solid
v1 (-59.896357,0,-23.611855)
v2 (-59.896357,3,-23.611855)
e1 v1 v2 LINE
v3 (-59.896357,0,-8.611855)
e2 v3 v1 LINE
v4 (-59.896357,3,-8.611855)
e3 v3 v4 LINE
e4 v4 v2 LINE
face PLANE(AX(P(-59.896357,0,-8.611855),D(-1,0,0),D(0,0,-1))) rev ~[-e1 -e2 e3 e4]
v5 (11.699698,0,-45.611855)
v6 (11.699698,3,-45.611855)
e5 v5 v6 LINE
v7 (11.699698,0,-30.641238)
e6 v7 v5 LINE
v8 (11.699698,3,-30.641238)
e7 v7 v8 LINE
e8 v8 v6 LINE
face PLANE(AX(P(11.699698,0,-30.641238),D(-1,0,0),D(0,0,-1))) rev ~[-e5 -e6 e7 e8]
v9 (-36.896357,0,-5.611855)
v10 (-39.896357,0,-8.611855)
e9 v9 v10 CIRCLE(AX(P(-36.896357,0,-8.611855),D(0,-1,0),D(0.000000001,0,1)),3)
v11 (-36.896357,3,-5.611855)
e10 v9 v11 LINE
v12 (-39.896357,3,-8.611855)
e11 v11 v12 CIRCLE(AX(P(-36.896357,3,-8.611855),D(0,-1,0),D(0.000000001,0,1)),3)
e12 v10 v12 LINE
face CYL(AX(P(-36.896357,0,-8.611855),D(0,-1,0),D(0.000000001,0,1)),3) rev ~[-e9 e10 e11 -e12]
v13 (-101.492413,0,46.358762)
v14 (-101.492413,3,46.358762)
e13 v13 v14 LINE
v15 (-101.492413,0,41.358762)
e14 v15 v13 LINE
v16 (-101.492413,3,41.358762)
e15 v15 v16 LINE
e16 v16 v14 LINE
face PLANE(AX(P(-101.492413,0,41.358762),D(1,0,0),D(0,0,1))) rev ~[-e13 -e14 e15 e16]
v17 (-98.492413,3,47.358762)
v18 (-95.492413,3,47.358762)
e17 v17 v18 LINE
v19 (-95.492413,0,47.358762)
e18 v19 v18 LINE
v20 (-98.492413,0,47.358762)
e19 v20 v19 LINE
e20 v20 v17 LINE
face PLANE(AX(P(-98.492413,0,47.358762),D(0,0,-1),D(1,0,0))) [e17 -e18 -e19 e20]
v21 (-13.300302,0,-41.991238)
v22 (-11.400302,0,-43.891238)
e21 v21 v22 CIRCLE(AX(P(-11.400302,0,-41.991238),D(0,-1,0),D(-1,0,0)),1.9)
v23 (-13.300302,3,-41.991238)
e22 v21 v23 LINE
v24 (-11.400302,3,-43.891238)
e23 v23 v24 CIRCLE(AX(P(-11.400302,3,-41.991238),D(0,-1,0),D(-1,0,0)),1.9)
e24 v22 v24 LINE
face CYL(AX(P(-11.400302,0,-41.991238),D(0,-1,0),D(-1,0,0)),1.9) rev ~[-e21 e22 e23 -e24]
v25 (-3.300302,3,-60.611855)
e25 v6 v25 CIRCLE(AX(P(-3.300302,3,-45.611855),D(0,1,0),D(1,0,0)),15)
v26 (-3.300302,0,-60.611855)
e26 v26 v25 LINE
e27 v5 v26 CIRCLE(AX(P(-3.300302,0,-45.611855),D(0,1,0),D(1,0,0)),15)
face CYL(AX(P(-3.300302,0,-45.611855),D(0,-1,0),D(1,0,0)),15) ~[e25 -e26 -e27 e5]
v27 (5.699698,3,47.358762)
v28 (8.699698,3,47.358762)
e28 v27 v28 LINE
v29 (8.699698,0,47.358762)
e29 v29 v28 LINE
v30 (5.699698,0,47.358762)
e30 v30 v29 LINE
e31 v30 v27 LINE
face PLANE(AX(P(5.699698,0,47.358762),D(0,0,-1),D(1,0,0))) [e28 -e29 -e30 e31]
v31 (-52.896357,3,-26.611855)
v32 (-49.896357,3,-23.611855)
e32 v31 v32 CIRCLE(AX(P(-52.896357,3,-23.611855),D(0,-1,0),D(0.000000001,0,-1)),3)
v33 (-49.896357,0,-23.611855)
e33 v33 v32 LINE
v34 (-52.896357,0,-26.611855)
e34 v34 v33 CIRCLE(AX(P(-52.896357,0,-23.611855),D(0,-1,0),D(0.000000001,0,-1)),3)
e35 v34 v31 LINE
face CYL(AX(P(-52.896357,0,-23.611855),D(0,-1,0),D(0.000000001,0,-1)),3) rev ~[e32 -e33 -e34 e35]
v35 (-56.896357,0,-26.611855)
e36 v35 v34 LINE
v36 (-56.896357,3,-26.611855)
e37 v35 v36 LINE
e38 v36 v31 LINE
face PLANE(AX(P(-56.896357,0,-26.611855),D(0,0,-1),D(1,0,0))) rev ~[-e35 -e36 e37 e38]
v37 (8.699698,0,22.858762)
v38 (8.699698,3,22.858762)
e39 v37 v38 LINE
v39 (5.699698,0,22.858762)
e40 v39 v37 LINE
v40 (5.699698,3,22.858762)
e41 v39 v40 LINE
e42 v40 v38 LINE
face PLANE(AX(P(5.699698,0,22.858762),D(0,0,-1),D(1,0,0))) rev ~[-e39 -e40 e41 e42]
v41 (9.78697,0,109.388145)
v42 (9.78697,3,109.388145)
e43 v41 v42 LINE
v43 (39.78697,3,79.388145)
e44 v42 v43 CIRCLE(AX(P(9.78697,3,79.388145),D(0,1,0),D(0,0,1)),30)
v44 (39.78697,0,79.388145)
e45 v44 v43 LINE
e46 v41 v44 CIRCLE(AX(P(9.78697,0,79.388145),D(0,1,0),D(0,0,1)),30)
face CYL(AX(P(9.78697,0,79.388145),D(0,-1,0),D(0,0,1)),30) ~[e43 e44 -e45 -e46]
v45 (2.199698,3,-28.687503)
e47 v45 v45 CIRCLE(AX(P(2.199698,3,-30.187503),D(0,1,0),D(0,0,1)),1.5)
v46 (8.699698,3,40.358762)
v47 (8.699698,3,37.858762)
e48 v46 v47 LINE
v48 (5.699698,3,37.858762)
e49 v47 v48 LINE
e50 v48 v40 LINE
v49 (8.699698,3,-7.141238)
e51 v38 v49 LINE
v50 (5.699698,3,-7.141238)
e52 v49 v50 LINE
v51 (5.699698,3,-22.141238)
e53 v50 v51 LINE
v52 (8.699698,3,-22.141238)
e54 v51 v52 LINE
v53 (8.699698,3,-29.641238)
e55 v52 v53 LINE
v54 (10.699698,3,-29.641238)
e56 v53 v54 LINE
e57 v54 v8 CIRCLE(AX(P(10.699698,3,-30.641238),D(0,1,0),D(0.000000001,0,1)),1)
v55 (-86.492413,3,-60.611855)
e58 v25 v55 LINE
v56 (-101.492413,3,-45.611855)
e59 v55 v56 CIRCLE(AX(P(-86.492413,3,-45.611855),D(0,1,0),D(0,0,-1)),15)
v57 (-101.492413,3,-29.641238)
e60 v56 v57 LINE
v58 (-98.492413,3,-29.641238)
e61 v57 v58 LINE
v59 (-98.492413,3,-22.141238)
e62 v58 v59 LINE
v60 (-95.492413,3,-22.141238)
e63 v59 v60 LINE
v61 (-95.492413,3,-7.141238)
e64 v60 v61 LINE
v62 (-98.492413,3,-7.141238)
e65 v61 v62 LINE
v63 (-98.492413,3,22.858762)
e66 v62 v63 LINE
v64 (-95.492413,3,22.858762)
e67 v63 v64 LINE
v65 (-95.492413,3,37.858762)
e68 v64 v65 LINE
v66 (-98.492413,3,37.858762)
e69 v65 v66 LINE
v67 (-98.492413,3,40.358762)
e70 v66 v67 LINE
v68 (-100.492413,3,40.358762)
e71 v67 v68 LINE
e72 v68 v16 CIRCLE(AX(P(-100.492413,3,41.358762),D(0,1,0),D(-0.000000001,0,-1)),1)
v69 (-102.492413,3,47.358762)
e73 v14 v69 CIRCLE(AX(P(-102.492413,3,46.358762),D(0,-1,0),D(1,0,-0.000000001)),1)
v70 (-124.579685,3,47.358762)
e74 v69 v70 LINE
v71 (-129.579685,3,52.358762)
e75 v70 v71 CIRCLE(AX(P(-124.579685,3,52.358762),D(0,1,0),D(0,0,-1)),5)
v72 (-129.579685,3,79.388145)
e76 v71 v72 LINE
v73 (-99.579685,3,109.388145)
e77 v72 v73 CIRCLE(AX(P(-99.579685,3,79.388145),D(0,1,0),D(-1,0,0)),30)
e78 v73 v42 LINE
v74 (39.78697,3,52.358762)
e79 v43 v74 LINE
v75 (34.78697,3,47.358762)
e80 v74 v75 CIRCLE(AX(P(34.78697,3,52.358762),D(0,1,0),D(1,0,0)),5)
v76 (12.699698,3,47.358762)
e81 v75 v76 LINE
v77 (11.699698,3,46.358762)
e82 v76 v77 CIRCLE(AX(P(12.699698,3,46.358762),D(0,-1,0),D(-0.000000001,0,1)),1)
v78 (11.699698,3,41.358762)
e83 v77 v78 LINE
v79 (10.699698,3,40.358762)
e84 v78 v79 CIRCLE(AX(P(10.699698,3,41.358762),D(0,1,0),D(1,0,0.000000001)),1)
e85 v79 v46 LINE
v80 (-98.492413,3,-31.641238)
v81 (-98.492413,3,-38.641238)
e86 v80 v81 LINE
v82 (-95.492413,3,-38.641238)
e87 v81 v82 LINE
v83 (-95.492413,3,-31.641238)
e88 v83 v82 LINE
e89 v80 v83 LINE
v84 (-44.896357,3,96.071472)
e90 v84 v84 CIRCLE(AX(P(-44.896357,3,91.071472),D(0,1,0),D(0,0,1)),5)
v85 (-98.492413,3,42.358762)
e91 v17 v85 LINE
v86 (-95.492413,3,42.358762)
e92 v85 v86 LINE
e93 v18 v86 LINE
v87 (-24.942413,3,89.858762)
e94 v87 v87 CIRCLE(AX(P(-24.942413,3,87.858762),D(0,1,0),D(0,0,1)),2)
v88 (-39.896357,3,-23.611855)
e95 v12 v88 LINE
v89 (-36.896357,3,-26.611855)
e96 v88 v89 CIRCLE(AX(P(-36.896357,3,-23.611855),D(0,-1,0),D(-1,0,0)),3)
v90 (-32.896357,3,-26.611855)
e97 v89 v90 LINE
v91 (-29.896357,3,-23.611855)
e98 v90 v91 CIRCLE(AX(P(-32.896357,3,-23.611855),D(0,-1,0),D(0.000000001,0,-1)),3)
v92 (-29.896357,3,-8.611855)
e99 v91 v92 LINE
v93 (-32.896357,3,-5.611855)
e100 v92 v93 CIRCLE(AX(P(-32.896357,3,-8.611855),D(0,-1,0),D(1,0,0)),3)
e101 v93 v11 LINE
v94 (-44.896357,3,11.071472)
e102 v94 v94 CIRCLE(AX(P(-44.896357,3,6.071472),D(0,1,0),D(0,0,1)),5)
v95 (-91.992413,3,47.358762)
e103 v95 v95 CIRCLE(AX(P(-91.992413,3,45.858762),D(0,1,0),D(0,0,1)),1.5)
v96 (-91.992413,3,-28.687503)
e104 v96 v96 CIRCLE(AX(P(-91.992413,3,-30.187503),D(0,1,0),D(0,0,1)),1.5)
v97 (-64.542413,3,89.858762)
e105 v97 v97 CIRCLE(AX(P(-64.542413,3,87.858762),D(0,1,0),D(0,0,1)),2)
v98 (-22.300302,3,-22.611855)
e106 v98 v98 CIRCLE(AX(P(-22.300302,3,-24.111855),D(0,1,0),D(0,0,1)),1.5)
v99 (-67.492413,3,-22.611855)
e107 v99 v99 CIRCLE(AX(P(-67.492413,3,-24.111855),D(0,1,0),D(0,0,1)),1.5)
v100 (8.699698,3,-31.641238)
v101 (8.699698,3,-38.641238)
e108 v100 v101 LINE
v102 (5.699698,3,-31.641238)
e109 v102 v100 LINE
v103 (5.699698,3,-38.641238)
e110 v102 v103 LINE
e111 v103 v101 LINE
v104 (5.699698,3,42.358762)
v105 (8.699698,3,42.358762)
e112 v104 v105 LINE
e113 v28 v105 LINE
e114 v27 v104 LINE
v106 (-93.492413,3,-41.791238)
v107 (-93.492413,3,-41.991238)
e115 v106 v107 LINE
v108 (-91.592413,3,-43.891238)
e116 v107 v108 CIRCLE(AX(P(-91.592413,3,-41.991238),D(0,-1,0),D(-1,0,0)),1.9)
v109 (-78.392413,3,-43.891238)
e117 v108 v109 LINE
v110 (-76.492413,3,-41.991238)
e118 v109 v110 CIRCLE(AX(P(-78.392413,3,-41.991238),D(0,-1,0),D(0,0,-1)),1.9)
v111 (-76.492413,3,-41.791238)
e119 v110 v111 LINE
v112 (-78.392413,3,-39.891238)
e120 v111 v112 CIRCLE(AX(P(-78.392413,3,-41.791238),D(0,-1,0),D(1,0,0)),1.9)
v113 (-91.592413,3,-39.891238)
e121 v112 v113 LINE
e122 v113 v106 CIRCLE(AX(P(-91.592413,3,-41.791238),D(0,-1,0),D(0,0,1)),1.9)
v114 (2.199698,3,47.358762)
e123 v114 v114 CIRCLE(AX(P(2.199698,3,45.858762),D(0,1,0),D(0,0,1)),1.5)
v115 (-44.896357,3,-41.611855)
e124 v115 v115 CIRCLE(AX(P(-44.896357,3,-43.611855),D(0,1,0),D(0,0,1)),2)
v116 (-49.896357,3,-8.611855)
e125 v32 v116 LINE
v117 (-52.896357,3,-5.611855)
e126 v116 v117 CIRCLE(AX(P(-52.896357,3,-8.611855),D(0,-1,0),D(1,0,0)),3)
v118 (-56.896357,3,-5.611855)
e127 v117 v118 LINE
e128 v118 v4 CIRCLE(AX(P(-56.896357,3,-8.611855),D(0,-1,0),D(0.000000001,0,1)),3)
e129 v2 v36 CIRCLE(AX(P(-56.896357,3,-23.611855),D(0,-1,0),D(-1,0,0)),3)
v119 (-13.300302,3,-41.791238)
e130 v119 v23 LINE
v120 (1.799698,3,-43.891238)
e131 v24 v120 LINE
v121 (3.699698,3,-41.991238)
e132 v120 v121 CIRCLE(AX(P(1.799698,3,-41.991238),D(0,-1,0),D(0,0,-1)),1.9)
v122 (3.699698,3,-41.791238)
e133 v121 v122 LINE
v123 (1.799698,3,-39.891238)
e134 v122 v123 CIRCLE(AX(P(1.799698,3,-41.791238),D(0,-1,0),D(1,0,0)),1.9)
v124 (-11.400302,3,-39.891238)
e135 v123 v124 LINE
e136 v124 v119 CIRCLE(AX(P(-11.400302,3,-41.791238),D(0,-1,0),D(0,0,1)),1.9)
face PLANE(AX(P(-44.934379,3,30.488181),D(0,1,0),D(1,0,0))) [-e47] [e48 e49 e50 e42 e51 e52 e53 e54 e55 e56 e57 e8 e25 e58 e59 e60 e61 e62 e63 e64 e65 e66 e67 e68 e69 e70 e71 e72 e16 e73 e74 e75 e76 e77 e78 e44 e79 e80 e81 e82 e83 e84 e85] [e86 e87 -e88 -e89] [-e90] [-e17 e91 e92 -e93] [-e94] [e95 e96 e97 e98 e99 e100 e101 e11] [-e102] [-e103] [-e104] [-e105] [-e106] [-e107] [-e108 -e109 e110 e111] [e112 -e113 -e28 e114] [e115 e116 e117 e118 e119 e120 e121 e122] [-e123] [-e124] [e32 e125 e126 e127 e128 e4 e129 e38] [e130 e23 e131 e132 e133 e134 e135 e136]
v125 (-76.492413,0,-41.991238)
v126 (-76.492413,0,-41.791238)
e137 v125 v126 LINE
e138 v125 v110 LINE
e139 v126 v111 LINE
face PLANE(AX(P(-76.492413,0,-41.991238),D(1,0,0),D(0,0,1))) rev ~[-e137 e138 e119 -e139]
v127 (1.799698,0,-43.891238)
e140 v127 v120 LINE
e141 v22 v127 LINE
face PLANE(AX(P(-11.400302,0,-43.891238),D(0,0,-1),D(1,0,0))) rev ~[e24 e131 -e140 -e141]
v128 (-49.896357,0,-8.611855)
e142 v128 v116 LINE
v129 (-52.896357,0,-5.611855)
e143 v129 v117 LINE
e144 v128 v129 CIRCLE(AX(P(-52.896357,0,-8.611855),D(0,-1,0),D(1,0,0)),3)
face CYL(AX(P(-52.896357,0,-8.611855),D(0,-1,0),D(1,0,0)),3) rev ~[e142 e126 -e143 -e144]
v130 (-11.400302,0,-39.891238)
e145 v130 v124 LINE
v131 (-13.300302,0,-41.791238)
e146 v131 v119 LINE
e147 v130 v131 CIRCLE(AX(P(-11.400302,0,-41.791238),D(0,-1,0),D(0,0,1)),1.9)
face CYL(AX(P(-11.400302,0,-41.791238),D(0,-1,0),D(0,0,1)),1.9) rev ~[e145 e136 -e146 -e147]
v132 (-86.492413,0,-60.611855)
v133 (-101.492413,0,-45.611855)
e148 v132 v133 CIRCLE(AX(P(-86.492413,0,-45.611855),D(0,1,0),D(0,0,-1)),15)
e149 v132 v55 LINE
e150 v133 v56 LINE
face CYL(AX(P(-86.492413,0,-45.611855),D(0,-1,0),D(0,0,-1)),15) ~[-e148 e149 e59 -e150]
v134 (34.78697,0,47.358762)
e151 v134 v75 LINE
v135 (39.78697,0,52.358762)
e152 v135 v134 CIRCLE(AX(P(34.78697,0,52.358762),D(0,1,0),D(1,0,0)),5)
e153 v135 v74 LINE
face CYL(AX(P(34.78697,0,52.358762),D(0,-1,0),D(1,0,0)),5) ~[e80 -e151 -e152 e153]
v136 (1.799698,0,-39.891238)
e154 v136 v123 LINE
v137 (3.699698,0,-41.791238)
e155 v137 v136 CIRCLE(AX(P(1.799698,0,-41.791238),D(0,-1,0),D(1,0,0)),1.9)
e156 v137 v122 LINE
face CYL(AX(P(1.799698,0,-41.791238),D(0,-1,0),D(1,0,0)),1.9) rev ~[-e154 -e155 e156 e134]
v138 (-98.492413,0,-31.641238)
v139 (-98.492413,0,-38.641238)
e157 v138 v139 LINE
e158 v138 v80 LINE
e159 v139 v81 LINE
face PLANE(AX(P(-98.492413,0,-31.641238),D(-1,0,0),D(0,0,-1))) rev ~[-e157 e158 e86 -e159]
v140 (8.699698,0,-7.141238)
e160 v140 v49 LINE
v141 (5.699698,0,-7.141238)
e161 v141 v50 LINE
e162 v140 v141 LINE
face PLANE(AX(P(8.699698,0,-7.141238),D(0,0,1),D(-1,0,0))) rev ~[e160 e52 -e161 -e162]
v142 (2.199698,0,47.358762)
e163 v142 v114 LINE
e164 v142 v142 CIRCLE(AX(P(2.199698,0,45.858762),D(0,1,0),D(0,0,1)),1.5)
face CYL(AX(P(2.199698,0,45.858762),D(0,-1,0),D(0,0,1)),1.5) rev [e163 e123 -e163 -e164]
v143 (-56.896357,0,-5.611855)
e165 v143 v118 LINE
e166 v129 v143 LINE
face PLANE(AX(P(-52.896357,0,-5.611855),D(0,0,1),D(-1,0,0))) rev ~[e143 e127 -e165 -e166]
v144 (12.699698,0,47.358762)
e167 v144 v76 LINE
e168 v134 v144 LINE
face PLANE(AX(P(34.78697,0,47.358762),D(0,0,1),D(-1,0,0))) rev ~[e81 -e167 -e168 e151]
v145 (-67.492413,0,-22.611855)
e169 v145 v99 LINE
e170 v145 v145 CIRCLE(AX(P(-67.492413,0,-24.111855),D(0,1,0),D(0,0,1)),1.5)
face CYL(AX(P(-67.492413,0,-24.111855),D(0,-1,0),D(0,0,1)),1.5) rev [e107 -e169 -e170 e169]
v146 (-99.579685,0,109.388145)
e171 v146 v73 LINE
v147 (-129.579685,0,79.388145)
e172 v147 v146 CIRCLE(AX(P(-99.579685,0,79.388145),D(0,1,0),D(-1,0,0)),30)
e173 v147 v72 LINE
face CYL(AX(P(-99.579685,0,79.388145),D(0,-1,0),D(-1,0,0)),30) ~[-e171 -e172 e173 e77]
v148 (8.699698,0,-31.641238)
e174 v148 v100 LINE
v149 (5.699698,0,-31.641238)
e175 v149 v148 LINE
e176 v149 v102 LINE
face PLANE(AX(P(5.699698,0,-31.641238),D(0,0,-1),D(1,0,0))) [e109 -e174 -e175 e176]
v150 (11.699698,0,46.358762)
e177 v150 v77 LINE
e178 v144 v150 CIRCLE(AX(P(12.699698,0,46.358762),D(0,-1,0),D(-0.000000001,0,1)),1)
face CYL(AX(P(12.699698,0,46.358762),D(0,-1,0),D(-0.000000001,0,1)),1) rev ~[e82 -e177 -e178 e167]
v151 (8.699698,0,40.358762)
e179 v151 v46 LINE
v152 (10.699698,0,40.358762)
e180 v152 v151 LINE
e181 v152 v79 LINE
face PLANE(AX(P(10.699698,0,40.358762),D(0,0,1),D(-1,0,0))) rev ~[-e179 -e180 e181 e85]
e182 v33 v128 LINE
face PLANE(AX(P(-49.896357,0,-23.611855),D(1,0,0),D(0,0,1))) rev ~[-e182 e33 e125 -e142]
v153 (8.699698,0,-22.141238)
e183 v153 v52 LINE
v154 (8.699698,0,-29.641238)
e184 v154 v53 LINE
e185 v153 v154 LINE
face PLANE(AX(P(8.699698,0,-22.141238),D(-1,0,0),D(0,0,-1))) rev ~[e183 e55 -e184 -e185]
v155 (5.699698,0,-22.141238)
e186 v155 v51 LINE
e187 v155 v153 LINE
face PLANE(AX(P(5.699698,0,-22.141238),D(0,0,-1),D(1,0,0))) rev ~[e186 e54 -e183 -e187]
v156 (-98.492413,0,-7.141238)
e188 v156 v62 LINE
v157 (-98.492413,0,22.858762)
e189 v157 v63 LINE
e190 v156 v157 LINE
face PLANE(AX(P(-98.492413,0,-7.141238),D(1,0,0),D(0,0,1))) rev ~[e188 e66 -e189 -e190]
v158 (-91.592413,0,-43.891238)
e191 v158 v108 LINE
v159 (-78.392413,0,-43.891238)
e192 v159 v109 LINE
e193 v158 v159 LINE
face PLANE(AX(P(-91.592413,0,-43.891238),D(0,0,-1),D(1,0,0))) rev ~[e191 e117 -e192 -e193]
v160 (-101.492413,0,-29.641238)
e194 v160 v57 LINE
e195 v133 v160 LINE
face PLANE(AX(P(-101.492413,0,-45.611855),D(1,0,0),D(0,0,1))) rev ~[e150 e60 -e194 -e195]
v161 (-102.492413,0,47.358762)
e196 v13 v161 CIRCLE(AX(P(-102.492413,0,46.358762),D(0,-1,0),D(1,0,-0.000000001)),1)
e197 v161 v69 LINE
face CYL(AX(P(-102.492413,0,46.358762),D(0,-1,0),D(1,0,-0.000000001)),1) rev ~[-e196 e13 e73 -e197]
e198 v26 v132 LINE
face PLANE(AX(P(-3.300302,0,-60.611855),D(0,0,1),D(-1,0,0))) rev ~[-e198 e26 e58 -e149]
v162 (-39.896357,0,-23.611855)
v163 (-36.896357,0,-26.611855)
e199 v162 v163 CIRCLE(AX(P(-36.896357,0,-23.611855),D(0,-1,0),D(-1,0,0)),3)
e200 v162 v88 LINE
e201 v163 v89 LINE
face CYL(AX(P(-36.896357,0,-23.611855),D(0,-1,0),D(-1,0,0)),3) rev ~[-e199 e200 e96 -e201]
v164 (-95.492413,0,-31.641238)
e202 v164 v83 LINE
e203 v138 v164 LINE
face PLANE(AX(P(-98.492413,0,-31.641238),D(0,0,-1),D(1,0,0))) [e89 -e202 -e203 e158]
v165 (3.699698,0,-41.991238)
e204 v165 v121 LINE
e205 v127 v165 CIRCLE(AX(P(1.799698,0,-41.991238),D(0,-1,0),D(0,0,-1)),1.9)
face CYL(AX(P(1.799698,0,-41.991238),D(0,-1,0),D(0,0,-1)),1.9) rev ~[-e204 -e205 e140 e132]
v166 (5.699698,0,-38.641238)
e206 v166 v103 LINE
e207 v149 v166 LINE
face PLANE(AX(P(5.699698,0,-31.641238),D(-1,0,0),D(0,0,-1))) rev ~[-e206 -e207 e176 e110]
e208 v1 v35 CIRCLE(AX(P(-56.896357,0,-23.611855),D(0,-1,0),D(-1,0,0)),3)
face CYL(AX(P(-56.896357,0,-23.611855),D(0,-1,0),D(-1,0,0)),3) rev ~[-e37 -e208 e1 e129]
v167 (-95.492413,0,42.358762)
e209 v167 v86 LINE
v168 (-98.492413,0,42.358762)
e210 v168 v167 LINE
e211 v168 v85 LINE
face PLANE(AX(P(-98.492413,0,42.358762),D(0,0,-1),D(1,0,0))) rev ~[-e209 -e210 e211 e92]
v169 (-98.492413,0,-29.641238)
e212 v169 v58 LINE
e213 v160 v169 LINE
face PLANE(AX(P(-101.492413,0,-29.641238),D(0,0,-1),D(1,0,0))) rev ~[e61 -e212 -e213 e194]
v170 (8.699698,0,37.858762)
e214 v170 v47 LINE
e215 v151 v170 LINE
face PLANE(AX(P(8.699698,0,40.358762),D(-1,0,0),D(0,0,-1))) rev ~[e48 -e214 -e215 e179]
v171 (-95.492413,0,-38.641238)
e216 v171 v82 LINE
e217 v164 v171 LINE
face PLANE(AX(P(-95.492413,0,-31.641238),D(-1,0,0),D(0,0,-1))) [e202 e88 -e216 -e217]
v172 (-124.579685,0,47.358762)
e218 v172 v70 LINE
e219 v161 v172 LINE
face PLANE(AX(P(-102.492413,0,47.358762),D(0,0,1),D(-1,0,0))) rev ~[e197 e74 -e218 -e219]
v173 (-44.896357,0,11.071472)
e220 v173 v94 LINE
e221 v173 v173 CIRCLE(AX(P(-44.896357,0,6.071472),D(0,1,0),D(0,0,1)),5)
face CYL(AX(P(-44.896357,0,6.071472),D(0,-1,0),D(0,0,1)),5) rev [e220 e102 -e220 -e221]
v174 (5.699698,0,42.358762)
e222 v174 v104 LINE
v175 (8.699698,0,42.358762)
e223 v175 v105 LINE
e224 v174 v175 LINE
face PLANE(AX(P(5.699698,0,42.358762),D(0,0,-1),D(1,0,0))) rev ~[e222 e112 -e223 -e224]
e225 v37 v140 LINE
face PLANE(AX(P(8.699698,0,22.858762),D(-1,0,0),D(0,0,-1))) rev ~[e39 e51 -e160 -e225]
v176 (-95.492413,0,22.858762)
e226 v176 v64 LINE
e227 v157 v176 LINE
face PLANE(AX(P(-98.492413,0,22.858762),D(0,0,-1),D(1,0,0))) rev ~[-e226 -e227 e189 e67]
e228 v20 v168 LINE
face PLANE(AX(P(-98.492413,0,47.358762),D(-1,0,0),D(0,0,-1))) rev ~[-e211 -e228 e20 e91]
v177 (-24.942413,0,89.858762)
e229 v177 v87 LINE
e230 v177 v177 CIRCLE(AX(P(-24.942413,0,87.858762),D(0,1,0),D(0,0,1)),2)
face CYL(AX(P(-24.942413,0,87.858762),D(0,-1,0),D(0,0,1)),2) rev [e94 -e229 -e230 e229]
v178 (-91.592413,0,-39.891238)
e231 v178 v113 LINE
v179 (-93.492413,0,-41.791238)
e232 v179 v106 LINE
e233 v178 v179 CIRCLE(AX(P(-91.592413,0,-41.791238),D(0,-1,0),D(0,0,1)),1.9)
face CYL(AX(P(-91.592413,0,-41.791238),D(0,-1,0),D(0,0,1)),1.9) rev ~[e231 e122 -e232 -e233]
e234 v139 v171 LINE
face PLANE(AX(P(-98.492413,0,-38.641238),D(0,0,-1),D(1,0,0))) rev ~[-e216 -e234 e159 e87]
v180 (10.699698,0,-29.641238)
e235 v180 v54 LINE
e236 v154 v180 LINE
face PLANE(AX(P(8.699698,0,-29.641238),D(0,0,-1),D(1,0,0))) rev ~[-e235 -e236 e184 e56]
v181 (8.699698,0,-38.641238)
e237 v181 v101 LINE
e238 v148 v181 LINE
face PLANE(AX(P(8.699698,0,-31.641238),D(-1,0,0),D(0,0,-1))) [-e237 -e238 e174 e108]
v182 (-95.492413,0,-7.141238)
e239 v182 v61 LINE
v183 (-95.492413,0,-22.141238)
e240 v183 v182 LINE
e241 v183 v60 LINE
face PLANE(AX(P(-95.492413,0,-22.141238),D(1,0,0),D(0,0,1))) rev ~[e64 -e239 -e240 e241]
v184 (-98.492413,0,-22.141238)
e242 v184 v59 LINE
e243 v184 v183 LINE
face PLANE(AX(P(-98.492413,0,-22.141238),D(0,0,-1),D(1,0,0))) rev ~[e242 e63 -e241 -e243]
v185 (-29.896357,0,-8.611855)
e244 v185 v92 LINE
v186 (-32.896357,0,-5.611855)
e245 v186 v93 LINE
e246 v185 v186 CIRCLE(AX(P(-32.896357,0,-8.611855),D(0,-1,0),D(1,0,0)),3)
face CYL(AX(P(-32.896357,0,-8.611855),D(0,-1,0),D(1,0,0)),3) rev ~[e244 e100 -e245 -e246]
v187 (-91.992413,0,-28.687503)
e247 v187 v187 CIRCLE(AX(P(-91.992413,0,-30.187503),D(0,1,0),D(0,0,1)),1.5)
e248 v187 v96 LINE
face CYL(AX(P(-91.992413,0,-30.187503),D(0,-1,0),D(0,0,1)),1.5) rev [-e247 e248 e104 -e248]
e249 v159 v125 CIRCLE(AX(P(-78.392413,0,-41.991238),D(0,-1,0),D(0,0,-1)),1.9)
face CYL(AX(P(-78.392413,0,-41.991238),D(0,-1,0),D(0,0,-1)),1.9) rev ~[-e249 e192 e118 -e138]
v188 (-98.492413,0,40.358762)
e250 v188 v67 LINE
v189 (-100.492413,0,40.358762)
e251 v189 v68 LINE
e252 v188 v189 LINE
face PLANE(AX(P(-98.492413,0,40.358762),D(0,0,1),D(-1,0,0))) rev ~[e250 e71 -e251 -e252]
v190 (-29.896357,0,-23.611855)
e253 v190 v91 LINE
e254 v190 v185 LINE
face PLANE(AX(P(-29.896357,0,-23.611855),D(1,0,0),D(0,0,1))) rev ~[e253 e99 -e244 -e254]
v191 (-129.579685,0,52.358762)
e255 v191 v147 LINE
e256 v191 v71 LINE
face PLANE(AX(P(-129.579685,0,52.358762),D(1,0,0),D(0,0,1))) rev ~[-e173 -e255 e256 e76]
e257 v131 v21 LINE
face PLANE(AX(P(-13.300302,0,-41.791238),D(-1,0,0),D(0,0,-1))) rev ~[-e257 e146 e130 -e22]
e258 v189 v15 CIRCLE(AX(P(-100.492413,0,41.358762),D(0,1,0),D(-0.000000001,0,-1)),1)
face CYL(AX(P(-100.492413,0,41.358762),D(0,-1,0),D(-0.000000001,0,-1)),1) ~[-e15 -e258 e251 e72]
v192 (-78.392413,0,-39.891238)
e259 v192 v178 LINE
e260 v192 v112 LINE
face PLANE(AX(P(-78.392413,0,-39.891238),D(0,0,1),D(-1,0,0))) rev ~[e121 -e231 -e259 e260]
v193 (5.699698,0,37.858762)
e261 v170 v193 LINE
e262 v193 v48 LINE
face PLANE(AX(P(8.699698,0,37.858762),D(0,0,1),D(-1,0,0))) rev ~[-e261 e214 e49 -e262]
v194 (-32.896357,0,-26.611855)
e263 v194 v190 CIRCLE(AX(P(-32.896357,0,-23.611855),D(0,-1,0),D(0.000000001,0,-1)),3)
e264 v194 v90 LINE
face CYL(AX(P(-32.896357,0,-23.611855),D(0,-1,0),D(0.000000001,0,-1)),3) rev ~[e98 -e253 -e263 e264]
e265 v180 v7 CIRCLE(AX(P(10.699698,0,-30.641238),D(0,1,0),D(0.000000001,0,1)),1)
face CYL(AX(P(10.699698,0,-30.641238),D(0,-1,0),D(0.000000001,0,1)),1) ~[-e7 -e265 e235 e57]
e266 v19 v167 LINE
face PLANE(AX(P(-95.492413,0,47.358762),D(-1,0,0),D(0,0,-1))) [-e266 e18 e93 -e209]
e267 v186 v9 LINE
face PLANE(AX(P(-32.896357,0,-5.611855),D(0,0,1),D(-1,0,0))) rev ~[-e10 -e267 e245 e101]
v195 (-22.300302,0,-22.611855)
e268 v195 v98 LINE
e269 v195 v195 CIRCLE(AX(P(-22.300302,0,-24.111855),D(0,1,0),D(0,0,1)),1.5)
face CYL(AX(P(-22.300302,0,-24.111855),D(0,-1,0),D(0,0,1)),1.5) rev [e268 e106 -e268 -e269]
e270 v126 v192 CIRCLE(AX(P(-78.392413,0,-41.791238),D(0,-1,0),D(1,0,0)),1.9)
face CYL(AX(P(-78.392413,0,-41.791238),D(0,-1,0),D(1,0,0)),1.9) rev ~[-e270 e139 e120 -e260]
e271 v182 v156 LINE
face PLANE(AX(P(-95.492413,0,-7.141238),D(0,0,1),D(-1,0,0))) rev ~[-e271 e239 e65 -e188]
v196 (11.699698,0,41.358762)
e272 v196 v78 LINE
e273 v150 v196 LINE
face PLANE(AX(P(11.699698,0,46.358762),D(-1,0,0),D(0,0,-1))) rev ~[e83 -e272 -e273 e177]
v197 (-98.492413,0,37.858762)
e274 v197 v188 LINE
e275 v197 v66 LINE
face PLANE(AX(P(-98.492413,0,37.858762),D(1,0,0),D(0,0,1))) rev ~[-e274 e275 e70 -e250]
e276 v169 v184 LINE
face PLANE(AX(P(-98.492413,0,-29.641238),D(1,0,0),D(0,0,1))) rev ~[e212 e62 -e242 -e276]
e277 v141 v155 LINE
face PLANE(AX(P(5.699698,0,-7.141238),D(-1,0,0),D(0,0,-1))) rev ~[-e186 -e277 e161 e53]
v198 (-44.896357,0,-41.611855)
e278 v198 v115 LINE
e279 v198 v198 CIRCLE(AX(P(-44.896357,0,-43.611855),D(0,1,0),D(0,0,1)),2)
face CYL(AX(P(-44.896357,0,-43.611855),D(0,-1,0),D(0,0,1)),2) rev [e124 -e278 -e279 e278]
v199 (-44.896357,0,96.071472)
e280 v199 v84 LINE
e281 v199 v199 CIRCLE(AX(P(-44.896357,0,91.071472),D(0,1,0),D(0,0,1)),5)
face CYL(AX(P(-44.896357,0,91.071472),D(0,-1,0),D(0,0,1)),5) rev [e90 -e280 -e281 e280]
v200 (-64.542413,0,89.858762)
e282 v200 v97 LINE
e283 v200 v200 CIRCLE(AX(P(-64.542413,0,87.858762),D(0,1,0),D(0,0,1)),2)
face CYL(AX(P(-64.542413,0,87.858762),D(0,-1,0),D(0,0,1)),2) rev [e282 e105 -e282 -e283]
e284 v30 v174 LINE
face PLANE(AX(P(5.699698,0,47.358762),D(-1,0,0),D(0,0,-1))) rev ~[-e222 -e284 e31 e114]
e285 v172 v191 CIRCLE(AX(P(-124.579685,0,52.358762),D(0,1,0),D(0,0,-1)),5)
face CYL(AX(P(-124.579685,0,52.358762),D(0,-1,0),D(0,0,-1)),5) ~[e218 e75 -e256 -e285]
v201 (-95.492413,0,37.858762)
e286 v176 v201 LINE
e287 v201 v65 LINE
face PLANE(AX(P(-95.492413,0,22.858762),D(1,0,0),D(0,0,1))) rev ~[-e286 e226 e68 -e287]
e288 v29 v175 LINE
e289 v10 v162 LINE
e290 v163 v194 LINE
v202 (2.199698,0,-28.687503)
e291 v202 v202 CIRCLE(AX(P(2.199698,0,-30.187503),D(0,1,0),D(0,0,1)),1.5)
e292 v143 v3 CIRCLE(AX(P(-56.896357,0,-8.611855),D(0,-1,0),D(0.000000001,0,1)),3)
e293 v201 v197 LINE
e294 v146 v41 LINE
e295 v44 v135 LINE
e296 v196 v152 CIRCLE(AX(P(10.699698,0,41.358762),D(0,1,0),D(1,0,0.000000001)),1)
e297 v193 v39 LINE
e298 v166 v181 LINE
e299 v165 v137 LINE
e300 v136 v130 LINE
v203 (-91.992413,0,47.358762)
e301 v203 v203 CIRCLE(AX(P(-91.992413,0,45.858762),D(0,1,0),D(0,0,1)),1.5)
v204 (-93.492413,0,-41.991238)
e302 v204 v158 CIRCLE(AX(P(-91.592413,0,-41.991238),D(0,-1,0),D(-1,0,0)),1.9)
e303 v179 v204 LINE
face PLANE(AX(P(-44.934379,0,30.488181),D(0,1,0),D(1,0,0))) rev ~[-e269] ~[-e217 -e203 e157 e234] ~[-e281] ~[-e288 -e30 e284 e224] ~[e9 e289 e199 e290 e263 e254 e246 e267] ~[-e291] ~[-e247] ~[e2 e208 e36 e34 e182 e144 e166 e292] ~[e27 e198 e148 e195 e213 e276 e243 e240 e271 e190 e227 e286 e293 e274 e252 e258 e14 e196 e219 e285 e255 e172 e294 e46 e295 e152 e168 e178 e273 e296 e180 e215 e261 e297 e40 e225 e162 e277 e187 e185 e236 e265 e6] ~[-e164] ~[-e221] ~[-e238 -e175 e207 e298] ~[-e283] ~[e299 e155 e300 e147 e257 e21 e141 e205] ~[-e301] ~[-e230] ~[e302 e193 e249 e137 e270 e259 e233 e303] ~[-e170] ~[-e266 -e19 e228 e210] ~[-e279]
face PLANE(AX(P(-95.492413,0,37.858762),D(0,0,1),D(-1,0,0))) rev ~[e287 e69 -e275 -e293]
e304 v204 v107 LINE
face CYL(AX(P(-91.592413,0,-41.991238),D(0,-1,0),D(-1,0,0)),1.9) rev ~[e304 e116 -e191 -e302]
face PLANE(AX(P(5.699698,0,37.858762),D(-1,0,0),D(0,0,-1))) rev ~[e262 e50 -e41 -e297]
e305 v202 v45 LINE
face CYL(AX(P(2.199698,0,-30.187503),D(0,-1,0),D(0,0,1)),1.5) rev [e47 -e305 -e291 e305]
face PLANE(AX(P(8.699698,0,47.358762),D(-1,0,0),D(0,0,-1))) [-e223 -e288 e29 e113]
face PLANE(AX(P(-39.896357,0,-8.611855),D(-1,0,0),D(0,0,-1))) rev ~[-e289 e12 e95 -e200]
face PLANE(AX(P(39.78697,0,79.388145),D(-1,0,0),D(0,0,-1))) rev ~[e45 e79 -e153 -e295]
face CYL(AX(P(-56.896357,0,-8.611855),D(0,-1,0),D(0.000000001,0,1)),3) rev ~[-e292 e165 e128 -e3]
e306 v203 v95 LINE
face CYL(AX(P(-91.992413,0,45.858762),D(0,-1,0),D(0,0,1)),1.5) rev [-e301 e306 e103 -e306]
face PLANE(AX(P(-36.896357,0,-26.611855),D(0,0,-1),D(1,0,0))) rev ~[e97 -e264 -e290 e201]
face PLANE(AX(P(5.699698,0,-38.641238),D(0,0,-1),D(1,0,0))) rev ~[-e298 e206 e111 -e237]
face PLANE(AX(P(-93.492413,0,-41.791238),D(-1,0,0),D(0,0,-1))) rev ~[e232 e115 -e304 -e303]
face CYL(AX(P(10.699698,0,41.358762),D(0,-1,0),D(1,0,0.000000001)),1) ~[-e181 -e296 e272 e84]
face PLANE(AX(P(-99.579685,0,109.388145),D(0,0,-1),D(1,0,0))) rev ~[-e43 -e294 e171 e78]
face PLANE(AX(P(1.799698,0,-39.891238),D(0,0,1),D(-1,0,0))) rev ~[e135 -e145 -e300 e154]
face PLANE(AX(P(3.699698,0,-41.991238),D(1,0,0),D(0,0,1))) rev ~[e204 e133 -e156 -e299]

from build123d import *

# Parameters (mm, degrees)
SKETCH1_R           = 2
SKETCH1_R_2         = 1.5
SKETCH1_W           = 3
SKETCH1_H           = 5
SKETCH1_R_3         = 5
SKETCH1_H_2         = 7
BOSS_EXTRUDE1_DEPTH = 3


with BuildPart() as part:
    # Sketch1 → Boss-Extrude1 (new body)
    with BuildSketch(Plane(origin=(0, 0, 0), x_dir=(1, 0, 0), z_dir=(0, 1, 0))):
        with BuildLine():
            ThreePointArc((10.699698215, 29.641238244), (11.406804996, 29.934131463), (11.699698215, 30.641238244))
            Line((11.699698215, 30.641238244), (11.699698215, 38.128019164))
            Line((11.699698215, 38.128019164), (11.699698215, 45.611855364))
            ThreePointArc((11.699698215, 45.611855364), (7.306299933, 56.218457082), (-3.300301785, 60.611855364))
            Line((-3.300301785, 60.611855364), (-86.492412558, 60.611855364))
            ThreePointArc((-86.492412558, 60.611855364), (-97.099014275, 56.218457082), (-101.492412558, 45.611855364))
            Line((-101.492412558, 45.611855364), (-101.492412558, 38.128019164))
            Line((-101.492412558, 38.128019164), (-101.492412558, 29.641238244))
            Line((-101.492412558, 29.641238244), (-98.492412558, 29.641238244))
            Line((-98.492412558, 29.641238244), (-98.492412558, 22.141238244))
            Line((-98.492412558, 22.141238244), (-95.492412558, 22.141238244))
            Line((-95.492412558, 22.141238244), (-95.492412558, 7.141238244))
            Line((-95.492412558, 7.141238244), (-98.492412558, 7.141238244))
            Line((-98.492412558, 7.141238244), (-98.492412558, -22.858761756))
            Line((-98.492412558, -22.858761756), (-95.492412558, -22.858761756))
            Line((-95.492412558, -22.858761756), (-95.492412558, -37.858761756))
            Line((-95.492412558, -37.858761756), (-98.492412558, -37.858761756))
            Line((-98.492412558, -37.858761756), (-98.492412558, -40.358761756))
            Line((-98.492412558, -40.358761756), (-100.492412558, -40.358761756))
            ThreePointArc((-100.492412558, -40.358761756), (-101.199519339, -40.651654975), (-101.492412558, -41.358761756))
            Line((-101.492412558, -41.358761756), (-101.492412558, -46.358761756))
            ThreePointArc((-101.492412558, -46.358761756), (-101.785305776, -47.065868537), (-102.492412558, -47.358761756))
            Line((-102.492412558, -47.358761756), (-124.579684665, -47.358761756))
            ThreePointArc((-124.579684665, -47.358761756), (-128.115218571, -48.82322785), (-129.579684665, -52.358761756))
            Line((-129.579684665, -52.358761756), (-129.579684665, -79.388144636))
            ThreePointArc((-129.579684665, -79.388144636), (-120.7928881, -100.601348072), (-99.579684665, -109.388144636))
            Line((-99.579684665, -109.388144636), (9.786970322, -109.388144636))
            ThreePointArc((9.786970322, -109.388144636), (31.000173758, -100.601348072), (39.786970322, -79.388144636))
            Line((39.786970322, -79.388144636), (39.786970322, -52.358761756))
            ThreePointArc((39.786970322, -52.358761756), (38.322504228, -48.82322785), (34.786970322, -47.358761756))
            Line((34.786970322, -47.358761756), (12.699698215, -47.358761756))
            ThreePointArc((12.699698215, -47.358761756), (11.992591434, -47.065868537), (11.699698215, -46.358761756))
            Line((11.699698215, -46.358761756), (11.699698215, -41.358761756))
            ThreePointArc((11.699698215, -41.358761756), (11.406804997, -40.651654975), (10.699698215, -40.358761756))
            Line((10.699698215, -40.358761756), (8.699698215, -40.358761756))
            Line((8.699698215, -40.358761756), (8.699698215, -37.858761756))
            Line((8.699698215, -37.858761756), (5.699698215, -37.858761756))
            Line((5.699698215, -37.858761756), (5.699698215, -22.858761756))
            Line((5.699698215, -22.858761756), (8.699698215, -22.858761756))
            Line((8.699698215, -22.858761756), (8.699698215, 7.141238244))
            Line((8.699698215, 7.141238244), (5.699698215, 7.141238244))
            Line((5.699698215, 7.141238244), (5.699698215, 22.141238244))
            Line((5.699698215, 22.141238244), (8.699698215, 22.141238244))
            Line((8.699698215, 22.141238244), (8.699698215, 29.641238244))
            Line((8.699698215, 29.641238244), (10.699698215, 29.641238244))
        make_face()
        with Locations(Location((-64.542412558, -87.858761756, 0), (0, 0, 270))):
            Circle(SKETCH1_R, mode=Mode.SUBTRACT)
        with Locations(Location((-91.992412558, -45.858761756, 0), (0, 0, 270))):
            Circle(SKETCH1_R_2, mode=Mode.SUBTRACT)
        with Locations((-96.992412558, -44.858761756)):
            Rectangle(SKETCH1_W, SKETCH1_H, mode=Mode.SUBTRACT)
        with Locations(Location((-44.896357171, -91.07147213, 0), (0, 0, 270))):
            Circle(SKETCH1_R_3, mode=Mode.SUBTRACT)
        with Locations(Location((-24.942412558, -87.858761756, 0), (0, 0, 270))):
            Circle(SKETCH1_R, mode=Mode.SUBTRACT)
        with Locations(Location((2.199698215, -45.858761756, 0), (0, 0, 270))):
            Circle(SKETCH1_R_2, mode=Mode.SUBTRACT)
        with Locations((7.199698215, -44.858761756)):
            Rectangle(SKETCH1_W, SKETCH1_H, mode=Mode.SUBTRACT)
        with BuildLine():
            Line((-52.896357171, 5.611855364), (-56.896357171, 5.611855364))
            ThreePointArc((-56.896357171, 5.611855364), (-59.017677515, 6.49053502), (-59.896357171, 8.611855364))
            Line((-59.896357171, 8.611855364), (-59.896357171, 23.611855364))
            ThreePointArc((-59.896357171, 23.611855364), (-59.017677515, 25.733175707), (-56.896357171, 26.611855364))
            Line((-56.896357171, 26.611855364), (-52.896357171, 26.611855364))
            ThreePointArc((-52.896357171, 26.611855364), (-50.775036828, 25.733175707), (-49.896357171, 23.611855364))
            Line((-49.896357171, 23.611855364), (-49.896357171, 8.611855364))
            ThreePointArc((-49.896357171, 8.611855364), (-50.775036828, 6.49053502), (-52.896357171, 5.611855364))
        make_face(mode=Mode.SUBTRACT)
        with Locations(Location((-91.992412558, 30.187503495, 0), (0, 0, 270))):
            Circle(SKETCH1_R_2, mode=Mode.SUBTRACT)
        with Locations((-96.992412558, 35.141238244)):
            Rectangle(SKETCH1_W, SKETCH1_H_2, mode=Mode.SUBTRACT)
        with Locations(Location((-67.492412558, 24.11185536, 0), (0, 0, 270))):
            Circle(SKETCH1_R_2, mode=Mode.SUBTRACT)
        with BuildLine():
            Line((-78.392412558, 39.891238244), (-91.592412558, 39.891238244))
            ThreePointArc((-91.592412558, 39.891238244), (-92.935915442, 40.44773536), (-93.492412558, 41.791238244))
            Line((-93.492412558, 41.791238244), (-93.492412558, 41.991238244))
            ThreePointArc((-93.492412558, 41.991238244), (-92.935915442, 43.334741128), (-91.592412558, 43.891238244))
            Line((-91.592412558, 43.891238244), (-78.392412558, 43.891238244))
            ThreePointArc((-78.392412558, 43.891238244), (-77.048909673, 43.334741128), (-76.492412558, 41.991238244))
            Line((-76.492412558, 41.991238244), (-76.492412558, 41.791238244))
            ThreePointArc((-76.492412558, 41.791238244), (-77.048909673, 40.44773536), (-78.392412558, 39.891238244))
        make_face(mode=Mode.SUBTRACT)
        with Locations(Location((-44.896357171, -6.07147213, 0), (0, 0, 270))):
            Circle(SKETCH1_R_3, mode=Mode.SUBTRACT)
        with BuildLine():
            ThreePointArc((-32.896357171, 26.611855364), (-30.775036828, 25.733175707), (-29.896357171, 23.611855364))
            Line((-29.896357171, 23.611855364), (-29.896357171, 8.611855364))
            ThreePointArc((-29.896357171, 8.611855364), (-30.775036828, 6.49053502), (-32.896357171, 5.611855364))
            Line((-32.896357171, 5.611855364), (-36.896357171, 5.611855364))
            ThreePointArc((-36.896357171, 5.611855364), (-39.017677515, 6.49053502), (-39.896357171, 8.611855364))
            Line((-39.896357171, 8.611855364), (-39.896357171, 23.611855364))
            ThreePointArc((-39.896357171, 23.611855364), (-39.017677515, 25.733175707), (-36.896357171, 26.611855364))
            Line((-36.896357171, 26.611855364), (-32.896357171, 26.611855364))
        make_face(mode=Mode.SUBTRACT)
        with Locations(Location((-22.300301785, 24.11185536, 0), (0, 0, 270))):
            Circle(SKETCH1_R_2, mode=Mode.SUBTRACT)
        with Locations(Location((-44.896357171, 43.611855364, 0), (0, 0, 270))):
            Circle(SKETCH1_R, mode=Mode.SUBTRACT)
        with BuildLine():
            Line((3.699698215, 41.991238244), (3.699698215, 41.791238244))
            ThreePointArc((3.699698215, 41.791238244), (3.143201099, 40.44773536), (1.799698215, 39.891238244))
            Line((1.799698215, 39.891238244), (-11.400301785, 39.891238244))
            ThreePointArc((-11.400301785, 39.891238244), (-12.743804669, 40.44773536), (-13.300301785, 41.791238244))
            Line((-13.300301785, 41.791238244), (-13.300301785, 41.991238244))
            ThreePointArc((-13.300301785, 41.991238244), (-12.743804669, 43.334741128), (-11.400301785, 43.891238244))
            Line((-11.400301785, 43.891238244), (1.799698215, 43.891238244))
            ThreePointArc((1.799698215, 43.891238244), (3.143201099, 43.334741128), (3.699698215, 41.991238244))
        make_face(mode=Mode.SUBTRACT)
        with Locations(Location((2.199698215, 30.187503495, 0), (0, 0, 270))):
            Circle(SKETCH1_R_2, mode=Mode.SUBTRACT)
        with Locations((7.199698215, 35.141238244)):
            Rectangle(SKETCH1_W, SKETCH1_H_2, mode=Mode.SUBTRACT)
    extrude(amount=BOSS_EXTRUDE1_DEPTH)


solid = part.part
